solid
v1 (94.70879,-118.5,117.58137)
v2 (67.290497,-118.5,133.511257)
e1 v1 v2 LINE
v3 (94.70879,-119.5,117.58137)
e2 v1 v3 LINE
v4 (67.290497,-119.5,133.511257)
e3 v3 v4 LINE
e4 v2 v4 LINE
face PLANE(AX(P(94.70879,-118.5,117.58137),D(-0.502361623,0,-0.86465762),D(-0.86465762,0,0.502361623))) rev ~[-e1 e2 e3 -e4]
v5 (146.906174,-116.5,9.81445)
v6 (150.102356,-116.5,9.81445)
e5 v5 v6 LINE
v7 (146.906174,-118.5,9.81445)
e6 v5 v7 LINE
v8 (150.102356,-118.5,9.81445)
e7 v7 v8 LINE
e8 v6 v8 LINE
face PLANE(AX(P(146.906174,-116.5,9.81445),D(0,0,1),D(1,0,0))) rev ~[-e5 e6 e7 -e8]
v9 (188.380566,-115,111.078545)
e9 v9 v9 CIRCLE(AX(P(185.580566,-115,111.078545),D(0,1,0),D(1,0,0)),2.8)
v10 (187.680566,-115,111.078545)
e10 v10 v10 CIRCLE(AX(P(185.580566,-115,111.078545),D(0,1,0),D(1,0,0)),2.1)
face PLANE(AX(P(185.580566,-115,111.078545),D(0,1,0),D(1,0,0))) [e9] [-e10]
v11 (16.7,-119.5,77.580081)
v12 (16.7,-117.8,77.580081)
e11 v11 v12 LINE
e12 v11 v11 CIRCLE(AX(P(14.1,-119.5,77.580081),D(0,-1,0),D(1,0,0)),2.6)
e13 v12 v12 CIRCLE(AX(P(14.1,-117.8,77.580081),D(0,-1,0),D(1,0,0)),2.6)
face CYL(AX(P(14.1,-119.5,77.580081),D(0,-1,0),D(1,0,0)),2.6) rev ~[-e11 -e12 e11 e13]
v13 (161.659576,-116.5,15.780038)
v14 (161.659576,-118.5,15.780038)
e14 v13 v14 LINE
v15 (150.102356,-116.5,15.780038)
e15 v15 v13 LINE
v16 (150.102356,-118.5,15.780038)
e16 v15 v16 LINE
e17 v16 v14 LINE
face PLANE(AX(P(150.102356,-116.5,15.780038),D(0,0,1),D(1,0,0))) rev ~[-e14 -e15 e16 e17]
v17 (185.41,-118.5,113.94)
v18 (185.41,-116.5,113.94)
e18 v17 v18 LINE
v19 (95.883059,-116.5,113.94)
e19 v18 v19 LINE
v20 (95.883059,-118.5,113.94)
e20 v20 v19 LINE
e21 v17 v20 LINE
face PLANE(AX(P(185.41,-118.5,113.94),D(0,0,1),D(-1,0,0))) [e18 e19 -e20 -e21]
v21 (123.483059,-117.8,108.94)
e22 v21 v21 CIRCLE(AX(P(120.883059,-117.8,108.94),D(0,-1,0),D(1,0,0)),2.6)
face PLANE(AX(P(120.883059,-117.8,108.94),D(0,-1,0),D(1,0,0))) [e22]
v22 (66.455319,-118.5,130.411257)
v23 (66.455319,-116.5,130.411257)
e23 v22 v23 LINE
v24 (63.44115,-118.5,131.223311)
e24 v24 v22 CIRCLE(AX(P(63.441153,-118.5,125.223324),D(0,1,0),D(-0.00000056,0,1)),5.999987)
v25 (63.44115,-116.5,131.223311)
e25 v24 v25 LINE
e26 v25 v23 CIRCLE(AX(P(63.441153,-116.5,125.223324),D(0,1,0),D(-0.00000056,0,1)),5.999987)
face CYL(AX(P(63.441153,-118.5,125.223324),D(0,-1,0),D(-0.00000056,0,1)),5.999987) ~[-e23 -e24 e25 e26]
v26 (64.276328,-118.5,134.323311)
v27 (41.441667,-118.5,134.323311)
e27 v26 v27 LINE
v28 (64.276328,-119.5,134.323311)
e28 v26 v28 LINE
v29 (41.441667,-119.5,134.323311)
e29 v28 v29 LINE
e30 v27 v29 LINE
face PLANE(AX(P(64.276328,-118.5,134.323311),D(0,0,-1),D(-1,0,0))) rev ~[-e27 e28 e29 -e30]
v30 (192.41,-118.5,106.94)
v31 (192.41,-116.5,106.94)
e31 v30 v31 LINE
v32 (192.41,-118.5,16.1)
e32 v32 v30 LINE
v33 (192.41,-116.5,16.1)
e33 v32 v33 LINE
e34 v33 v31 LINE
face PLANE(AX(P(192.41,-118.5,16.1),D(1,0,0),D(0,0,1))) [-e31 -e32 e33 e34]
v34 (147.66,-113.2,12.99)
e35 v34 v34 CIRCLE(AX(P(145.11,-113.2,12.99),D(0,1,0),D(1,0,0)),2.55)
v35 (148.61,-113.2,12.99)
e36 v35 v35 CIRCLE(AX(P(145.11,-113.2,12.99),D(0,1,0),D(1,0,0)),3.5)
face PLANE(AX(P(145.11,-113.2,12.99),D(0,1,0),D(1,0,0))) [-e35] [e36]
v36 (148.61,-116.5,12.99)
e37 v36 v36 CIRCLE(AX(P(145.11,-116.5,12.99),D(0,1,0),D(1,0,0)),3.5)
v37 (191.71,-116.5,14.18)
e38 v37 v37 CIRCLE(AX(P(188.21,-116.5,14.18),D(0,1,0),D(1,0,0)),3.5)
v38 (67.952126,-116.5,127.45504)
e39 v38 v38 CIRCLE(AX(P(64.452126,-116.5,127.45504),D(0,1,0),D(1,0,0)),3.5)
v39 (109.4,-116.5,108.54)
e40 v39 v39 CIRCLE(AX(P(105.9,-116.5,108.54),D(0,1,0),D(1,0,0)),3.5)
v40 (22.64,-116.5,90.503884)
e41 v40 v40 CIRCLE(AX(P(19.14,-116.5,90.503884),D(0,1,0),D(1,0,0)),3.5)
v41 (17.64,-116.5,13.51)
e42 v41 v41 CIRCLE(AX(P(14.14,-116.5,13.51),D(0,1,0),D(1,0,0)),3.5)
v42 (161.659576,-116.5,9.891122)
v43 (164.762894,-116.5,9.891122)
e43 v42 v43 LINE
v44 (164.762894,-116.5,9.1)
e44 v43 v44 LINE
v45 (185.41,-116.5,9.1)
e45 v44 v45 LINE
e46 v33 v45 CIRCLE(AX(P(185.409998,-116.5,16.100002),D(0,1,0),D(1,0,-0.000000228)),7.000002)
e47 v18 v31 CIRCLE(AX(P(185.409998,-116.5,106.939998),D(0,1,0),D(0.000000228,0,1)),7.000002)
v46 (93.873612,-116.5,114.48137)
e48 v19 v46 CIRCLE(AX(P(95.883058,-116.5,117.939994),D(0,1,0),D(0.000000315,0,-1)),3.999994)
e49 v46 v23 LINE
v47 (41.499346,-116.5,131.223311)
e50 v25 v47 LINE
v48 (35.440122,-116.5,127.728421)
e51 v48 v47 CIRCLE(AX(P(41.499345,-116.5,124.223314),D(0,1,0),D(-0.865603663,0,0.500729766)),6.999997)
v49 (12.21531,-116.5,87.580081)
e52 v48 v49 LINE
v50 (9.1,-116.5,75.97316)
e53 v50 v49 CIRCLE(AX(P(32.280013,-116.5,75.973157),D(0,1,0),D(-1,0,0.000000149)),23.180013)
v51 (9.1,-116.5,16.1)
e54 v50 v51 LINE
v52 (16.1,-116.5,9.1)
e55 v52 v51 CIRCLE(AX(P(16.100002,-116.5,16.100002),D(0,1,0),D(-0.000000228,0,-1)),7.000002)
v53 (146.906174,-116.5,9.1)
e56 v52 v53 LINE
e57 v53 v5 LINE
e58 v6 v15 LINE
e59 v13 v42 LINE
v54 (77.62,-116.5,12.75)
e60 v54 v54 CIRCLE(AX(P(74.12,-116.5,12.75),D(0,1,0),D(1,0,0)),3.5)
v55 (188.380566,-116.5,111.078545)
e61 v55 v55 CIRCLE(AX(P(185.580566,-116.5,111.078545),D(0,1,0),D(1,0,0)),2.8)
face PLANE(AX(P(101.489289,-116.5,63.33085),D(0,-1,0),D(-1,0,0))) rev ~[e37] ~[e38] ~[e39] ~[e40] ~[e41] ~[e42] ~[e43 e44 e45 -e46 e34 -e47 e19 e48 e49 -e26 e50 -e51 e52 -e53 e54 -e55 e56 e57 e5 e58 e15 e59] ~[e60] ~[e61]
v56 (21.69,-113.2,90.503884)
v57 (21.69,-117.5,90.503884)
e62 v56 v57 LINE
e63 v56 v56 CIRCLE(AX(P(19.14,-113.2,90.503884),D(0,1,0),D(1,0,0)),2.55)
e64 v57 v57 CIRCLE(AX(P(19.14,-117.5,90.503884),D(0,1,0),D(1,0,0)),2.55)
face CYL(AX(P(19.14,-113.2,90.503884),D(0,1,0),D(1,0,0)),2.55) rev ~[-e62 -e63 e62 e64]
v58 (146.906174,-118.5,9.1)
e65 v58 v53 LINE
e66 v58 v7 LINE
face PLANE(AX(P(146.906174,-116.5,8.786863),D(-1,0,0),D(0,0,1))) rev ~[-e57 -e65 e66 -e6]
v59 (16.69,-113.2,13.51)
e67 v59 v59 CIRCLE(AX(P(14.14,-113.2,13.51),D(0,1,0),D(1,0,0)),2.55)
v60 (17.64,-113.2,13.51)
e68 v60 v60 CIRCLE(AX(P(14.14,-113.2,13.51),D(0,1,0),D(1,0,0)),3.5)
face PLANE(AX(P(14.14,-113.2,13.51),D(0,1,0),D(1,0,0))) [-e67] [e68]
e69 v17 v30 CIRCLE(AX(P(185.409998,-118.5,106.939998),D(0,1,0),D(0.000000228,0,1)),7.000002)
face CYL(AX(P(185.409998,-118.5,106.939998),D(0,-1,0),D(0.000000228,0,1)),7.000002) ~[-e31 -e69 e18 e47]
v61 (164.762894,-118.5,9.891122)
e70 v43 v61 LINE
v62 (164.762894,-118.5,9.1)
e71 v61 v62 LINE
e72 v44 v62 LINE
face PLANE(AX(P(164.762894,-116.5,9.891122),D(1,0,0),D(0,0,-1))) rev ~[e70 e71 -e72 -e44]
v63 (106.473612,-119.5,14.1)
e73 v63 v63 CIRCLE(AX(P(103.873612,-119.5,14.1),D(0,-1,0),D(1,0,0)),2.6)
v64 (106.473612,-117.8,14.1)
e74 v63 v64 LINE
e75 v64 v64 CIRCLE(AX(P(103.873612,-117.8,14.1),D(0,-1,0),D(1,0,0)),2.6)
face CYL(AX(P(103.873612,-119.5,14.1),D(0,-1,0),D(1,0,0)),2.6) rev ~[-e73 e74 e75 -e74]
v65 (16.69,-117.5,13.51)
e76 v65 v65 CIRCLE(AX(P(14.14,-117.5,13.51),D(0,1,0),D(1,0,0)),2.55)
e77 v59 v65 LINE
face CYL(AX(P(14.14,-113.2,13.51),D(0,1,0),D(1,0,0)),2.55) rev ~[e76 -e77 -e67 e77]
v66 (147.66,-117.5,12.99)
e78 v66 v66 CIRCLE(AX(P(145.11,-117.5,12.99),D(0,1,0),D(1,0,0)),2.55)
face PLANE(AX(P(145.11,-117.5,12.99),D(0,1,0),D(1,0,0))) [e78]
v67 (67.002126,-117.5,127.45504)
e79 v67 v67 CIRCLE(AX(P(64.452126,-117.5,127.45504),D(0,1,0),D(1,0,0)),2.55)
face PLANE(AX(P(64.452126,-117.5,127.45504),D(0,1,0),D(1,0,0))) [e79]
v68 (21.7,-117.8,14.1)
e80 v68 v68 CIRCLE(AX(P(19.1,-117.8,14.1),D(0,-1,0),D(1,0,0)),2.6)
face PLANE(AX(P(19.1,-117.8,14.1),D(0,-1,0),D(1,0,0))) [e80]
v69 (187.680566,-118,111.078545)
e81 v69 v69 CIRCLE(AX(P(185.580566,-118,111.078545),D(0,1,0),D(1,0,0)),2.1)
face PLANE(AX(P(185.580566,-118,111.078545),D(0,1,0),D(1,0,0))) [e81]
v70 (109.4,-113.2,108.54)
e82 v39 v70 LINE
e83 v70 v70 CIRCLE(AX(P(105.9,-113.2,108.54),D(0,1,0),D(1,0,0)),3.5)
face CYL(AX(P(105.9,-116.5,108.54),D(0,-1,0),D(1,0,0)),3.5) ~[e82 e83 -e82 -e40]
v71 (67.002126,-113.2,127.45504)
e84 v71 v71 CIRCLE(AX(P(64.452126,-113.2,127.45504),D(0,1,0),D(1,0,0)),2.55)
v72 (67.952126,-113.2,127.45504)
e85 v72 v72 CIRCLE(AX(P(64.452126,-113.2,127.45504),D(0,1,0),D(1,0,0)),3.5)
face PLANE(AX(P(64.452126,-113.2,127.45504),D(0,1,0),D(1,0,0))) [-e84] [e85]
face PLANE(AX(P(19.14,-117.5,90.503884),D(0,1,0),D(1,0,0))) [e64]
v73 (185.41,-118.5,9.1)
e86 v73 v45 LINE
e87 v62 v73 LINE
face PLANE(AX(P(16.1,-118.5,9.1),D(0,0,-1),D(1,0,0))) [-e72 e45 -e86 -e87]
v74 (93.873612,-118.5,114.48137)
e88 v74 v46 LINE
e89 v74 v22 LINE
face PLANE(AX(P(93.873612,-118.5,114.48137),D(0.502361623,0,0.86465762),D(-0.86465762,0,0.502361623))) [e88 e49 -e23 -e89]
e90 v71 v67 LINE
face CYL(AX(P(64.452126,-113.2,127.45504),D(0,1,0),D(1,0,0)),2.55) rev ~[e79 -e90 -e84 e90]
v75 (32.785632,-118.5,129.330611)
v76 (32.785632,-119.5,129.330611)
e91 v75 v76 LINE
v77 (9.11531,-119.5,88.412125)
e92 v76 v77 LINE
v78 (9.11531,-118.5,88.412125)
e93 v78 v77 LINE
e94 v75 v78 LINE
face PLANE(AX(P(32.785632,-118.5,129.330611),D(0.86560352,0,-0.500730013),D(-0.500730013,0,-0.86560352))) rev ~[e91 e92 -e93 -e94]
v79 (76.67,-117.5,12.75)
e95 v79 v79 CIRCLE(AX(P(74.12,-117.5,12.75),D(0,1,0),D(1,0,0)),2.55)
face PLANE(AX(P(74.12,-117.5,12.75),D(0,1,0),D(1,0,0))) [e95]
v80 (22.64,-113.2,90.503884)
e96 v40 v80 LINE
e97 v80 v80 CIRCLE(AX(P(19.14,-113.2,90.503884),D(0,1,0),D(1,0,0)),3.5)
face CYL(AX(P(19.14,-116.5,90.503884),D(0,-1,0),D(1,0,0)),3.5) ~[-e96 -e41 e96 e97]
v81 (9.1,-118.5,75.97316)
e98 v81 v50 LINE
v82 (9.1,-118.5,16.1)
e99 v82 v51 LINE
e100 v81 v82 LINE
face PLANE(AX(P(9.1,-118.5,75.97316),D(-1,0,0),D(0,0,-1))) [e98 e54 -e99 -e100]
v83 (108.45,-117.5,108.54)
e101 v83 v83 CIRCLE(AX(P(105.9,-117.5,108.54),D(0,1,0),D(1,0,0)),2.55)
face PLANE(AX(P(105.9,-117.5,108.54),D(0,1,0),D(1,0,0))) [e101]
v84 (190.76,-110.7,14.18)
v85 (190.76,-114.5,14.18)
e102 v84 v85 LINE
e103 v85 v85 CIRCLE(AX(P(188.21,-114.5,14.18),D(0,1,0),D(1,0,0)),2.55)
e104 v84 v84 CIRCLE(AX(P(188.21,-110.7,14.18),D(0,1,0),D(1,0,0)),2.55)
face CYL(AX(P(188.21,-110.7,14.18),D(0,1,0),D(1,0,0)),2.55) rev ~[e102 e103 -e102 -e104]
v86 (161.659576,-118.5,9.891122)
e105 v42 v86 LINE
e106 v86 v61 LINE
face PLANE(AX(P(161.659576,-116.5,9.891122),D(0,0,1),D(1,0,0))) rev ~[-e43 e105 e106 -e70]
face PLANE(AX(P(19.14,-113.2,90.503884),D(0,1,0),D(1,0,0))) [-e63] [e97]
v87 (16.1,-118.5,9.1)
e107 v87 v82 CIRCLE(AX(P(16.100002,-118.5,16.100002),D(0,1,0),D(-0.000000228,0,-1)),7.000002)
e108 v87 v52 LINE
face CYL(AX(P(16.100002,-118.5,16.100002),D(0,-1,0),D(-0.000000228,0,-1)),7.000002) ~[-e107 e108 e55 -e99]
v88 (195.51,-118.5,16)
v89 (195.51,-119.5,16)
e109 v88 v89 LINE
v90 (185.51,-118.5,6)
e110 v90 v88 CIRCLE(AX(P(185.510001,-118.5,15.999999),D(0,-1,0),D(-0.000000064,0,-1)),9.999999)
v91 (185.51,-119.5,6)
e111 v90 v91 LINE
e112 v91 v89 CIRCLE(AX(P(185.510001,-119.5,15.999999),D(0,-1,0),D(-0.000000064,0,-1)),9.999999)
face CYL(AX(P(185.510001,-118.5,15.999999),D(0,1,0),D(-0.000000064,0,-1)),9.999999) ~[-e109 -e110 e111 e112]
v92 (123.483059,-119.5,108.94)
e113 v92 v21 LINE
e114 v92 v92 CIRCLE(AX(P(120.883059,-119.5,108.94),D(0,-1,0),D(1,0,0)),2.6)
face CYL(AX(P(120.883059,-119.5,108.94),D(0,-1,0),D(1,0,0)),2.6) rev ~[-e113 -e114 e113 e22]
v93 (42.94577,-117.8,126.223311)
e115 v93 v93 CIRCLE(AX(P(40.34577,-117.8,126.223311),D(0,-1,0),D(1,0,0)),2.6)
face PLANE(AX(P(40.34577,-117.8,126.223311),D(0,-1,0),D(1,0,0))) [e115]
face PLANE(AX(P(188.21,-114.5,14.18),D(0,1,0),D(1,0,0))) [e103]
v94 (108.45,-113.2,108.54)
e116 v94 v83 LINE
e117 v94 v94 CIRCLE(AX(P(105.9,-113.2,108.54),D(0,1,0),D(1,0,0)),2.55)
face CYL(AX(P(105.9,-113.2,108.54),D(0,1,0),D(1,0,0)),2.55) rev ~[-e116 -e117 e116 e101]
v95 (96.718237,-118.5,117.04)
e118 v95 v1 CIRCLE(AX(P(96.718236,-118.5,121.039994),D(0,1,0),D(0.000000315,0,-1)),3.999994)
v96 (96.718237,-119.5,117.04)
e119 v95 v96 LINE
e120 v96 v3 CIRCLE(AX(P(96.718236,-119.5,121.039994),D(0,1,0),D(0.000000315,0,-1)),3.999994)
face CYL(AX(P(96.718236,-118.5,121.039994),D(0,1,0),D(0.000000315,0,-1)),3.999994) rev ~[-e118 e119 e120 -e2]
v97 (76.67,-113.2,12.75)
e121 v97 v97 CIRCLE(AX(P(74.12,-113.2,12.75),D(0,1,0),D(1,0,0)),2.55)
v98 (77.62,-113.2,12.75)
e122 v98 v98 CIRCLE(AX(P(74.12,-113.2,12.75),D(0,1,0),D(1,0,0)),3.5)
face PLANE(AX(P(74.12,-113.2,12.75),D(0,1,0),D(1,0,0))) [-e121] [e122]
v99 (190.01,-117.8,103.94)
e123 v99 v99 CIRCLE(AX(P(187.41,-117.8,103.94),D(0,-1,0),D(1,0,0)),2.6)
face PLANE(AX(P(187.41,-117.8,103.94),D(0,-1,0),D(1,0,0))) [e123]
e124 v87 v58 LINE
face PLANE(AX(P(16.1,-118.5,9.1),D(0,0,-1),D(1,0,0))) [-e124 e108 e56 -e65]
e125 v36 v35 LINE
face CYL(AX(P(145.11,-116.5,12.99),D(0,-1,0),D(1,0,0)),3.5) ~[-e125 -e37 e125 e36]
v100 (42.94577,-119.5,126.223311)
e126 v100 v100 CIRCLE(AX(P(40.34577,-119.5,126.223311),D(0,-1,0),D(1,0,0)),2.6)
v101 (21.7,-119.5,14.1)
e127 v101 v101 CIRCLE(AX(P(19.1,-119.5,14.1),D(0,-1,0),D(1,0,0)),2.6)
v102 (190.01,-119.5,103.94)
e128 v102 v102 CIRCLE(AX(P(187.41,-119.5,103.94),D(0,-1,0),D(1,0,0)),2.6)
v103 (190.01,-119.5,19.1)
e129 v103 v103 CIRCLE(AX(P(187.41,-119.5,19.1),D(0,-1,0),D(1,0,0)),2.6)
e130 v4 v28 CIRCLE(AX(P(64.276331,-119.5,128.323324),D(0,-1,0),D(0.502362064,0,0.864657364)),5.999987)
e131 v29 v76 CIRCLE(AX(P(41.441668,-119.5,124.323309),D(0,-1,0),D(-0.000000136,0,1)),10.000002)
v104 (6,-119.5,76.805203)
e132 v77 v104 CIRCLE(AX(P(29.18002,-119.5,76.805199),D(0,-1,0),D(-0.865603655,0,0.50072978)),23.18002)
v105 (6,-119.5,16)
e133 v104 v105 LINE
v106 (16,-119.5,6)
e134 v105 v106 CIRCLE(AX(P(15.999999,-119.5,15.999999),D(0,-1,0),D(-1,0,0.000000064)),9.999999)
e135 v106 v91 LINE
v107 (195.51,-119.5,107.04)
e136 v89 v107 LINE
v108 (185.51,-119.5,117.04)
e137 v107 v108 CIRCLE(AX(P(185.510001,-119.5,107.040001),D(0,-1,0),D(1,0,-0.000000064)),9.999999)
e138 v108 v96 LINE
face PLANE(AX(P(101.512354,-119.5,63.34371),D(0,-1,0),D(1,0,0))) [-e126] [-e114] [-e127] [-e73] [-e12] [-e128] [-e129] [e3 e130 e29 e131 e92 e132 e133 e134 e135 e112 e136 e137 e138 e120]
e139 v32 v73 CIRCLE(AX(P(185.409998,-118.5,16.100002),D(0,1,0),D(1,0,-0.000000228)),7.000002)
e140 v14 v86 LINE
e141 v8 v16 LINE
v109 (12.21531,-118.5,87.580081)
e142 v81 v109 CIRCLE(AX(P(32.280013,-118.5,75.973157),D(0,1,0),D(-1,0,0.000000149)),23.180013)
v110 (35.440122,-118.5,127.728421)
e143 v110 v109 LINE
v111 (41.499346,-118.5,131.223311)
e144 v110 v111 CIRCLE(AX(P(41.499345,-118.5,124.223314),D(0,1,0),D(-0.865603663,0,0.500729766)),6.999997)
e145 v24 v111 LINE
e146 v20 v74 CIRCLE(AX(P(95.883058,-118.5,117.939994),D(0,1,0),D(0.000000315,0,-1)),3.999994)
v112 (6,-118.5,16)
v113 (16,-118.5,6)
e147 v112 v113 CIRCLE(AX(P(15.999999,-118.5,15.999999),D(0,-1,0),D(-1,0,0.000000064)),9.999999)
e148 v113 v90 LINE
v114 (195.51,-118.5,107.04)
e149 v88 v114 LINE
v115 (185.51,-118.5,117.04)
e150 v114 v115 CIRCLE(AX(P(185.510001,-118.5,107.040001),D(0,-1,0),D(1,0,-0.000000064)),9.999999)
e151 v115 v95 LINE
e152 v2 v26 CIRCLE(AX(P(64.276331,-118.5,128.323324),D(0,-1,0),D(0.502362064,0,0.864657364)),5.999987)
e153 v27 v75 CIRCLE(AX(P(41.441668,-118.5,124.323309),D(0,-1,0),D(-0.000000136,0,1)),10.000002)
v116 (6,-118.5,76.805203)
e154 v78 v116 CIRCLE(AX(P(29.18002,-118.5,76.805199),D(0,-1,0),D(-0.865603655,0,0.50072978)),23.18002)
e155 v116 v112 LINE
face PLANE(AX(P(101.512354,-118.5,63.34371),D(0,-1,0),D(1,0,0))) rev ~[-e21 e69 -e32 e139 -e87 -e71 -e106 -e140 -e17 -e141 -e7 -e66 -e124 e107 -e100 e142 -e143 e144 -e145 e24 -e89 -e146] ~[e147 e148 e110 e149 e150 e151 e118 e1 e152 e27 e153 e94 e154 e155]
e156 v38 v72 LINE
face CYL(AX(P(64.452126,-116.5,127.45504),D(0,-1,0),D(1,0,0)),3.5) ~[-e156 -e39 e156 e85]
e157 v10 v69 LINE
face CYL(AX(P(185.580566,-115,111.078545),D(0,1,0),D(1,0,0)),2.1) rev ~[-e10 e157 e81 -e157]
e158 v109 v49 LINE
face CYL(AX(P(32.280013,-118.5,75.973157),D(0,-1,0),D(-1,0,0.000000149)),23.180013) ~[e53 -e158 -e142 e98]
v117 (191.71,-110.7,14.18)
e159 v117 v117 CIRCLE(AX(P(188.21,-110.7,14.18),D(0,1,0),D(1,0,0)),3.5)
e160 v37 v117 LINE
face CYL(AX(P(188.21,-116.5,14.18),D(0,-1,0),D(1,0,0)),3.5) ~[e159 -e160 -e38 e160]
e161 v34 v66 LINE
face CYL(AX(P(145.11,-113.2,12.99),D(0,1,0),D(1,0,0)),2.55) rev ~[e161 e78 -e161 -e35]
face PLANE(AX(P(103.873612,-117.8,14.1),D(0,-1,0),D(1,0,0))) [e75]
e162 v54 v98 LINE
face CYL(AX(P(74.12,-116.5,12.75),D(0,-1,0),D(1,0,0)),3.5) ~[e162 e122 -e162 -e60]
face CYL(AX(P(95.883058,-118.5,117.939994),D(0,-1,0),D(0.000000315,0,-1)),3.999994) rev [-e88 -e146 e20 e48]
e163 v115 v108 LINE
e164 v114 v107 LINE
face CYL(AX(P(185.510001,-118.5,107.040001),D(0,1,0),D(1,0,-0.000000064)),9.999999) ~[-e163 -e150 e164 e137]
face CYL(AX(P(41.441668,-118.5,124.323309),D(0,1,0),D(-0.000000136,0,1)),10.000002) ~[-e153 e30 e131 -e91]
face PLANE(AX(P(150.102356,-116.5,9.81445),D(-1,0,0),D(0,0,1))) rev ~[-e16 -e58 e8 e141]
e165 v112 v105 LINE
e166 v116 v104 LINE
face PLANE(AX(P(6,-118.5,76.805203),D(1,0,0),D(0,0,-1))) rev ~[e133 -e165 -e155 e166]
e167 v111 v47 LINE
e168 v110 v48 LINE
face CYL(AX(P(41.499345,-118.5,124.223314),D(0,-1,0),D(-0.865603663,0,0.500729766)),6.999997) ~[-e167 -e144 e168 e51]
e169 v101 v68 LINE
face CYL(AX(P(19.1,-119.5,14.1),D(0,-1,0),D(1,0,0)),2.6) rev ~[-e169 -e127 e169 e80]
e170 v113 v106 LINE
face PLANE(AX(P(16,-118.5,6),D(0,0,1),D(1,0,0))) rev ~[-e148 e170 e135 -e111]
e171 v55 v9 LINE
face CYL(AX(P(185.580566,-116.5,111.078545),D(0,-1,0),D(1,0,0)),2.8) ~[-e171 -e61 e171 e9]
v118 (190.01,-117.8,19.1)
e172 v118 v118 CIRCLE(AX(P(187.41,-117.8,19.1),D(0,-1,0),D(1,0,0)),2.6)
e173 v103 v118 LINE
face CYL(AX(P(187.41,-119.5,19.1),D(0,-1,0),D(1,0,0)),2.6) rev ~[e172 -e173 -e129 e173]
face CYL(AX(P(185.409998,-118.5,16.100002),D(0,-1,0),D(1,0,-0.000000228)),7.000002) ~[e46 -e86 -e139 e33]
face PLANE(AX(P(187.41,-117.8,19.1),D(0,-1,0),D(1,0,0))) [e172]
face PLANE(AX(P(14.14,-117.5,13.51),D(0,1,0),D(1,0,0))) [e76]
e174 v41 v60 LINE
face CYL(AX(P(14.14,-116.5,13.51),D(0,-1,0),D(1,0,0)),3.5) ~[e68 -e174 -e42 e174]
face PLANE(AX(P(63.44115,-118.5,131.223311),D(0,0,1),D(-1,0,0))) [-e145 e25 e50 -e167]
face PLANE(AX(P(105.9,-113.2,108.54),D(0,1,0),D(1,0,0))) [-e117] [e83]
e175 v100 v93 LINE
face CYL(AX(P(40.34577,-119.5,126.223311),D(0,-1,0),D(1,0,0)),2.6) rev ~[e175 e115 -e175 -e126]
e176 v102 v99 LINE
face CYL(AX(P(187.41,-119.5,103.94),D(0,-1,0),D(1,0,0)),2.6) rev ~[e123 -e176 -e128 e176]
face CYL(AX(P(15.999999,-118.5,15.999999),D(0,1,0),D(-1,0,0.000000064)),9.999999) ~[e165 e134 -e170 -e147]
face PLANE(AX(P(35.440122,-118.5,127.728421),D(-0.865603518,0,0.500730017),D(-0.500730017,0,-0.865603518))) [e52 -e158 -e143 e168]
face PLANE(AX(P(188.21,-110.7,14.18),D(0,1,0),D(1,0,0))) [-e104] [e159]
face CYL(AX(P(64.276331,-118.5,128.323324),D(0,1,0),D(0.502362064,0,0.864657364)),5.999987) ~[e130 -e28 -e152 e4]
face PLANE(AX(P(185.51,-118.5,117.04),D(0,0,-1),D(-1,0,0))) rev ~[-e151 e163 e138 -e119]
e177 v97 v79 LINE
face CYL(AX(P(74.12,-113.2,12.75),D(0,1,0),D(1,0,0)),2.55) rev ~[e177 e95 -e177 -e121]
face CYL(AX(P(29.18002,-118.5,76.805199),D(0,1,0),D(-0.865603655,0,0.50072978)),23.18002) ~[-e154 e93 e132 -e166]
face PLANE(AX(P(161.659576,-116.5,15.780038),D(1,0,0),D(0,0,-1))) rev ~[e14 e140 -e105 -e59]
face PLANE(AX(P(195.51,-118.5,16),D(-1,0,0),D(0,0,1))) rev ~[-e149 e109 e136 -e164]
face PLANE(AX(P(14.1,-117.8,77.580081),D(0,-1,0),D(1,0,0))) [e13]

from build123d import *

# Parameters (mm, degrees)
PAD017_DEPTH    = 1
PAD018_DEPTH    = 2
SKETCH041_R     = 3.5
PAD019_DEPTH    = 3.3
SKETCH042_R     = 2.55
POCKET018_DEPTH = 4.3
SKETCH043_R     = 2.8
PAD020_DEPTH    = 1.5
SKETCH044_R     = 2.1
POCKET019_DEPTH = 3
SKETCH045_R     = 3.5
PAD021_DEPTH    = 5.8
SKETCH046_R     = 2.55
POCKET020_DEPTH = 3.8
SKETCH047_R     = 2.6
POCKET021_DEPTH = 1.7
POCKET025_DEPTH = 2


with BuildPart() as part:
    # Sketch038 → Pad017 (new body)
    with BuildSketch(Plane.XZ):
        with BuildLine():
            ThreePointArc((6, 16), (8.928932, 8.928932), (16, 6))
            Line((16, 6), (185.51, 6))
            ThreePointArc((185.51, 6), (192.581068, 8.928932), (195.51, 16))
            Line((195.51, 16), (195.51, 107.04))
            ThreePointArc((195.51, 107.04), (192.581068, 114.111068), (185.51, 117.04))
            Line((185.51, 117.04), (96.718237, 117.04))
            ThreePointArc((96.718237, 117.04), (95.677689, 117.177713), (94.70879, 117.58137))
            Line((94.70879, 117.58137), (67.290497, 133.511257))
            ThreePointArc((67.290497, 133.511257), (65.837149, 134.116742), (64.276328, 134.323311))
            Line((64.276328, 134.323311), (41.441667, 134.323311))
            ThreePointArc((41.441667, 134.323311), (36.445319, 132.985672), (32.785632, 129.330611))
            Line((32.785632, 129.330611), (9.11531, 88.412125))
            ThreePointArc((9.11531, 88.412125), (6.792371, 82.814067), (6, 76.805203))
            Line((6, 76.805203), (6, 16))
        make_face()
    extrude(amount=PAD017_DEPTH)

    # Sketch040 (on Face15 of Pad017) → Pad018 (join)
    with BuildSketch(Plane(origin=(0, 0, 0), x_dir=(1, 0, 0), z_dir=(0, 1, 0))):
        with BuildLine():
            Line((16.1, -9.1), (185.41, -9.1))
            ThreePointArc((192.41, -16.1), (190.359747, -11.150253), (185.41, -9.1))
            Line((192.41, -16.1), (192.41, -106.94))
            ThreePointArc((185.41, -113.94), (190.359747, -111.889747), (192.41, -106.94))
            Line((185.41, -113.94), (95.883059, -113.94))
            ThreePointArc((95.883059, -113.94), (94.842511, -114.077713), (93.873612, -114.48137))
            Line((93.873612, -114.48137), (66.455319, -130.411257))
            ThreePointArc((63.44115, -131.223311), (65.001971, -131.016742), (66.455319, -130.411257))
            Line((63.44115, -131.223311), (41.499346, -131.223311))
            ThreePointArc((35.440122, -127.728421), (38.001902, -130.286964), (41.499346, -131.223311))
            Line((35.440122, -127.728421), (12.21531, -87.580081))
            ThreePointArc((9.1, -75.97316), (9.892371, -81.982024), (12.21531, -87.580081))
            Line((9.1, -75.97316), (9.1, -16.1))
            ThreePointArc((16.1, -9.1), (11.150253, -11.150253), (9.1, -16.1))
        make_face()
    extrude(amount=PAD018_DEPTH)

    # Sketch041 (on Face31 of Pad018) → Pad019 (join)
    with BuildSketch(Plane(origin=(0, 2, 0), x_dir=(1, 0, 0), z_dir=(0, 1, 0))):
        with Locations((145.11, -12.99)):
            Circle(SKETCH041_R)
        with Locations((64.452126, -127.45504)):
            Circle(SKETCH041_R)
        with Locations((14.14, -13.51)):
            Circle(SKETCH041_R)
        with Locations((19.14, -90.503884)):
            Circle(SKETCH041_R)
        with Locations((105.9, -108.54)):
            Circle(SKETCH041_R)
        with Locations((74.12, -12.75)):
            Circle(SKETCH041_R)
    extrude(amount=PAD019_DEPTH)

    # Sketch042 (on Face38 of Pad019) → Pocket018 (cut)
    with BuildSketch(Plane(origin=(0, 5.3, 0), x_dir=(1, 0, 0), z_dir=(0, 1, 0))):
        with Locations((145.11, -12.99)):
            Circle(SKETCH042_R)
        with Locations((19.14, -90.503884)):
            Circle(SKETCH042_R)
        with Locations((64.452126, -127.45504)):
            Circle(SKETCH042_R)
        with Locations((105.9, -108.54)):
            Circle(SKETCH042_R)
        with Locations((14.14, -13.51)):
            Circle(SKETCH042_R)
        with Locations((74.12, -12.75)):
            Circle(SKETCH042_R)
    extrude(amount=-POCKET018_DEPTH, mode=Mode.SUBTRACT)

    # Sketch043 (on Face31 of Pocket018) → Pad020 (join)
    with BuildSketch(Plane(origin=(0, 2, 0), x_dir=(1, 0, 0), z_dir=(0, 1, 0))):
        with Locations((185.580566, -111.078545)):
            Circle(SKETCH043_R)
    extrude(amount=PAD020_DEPTH)

    # Sketch044 (on Face45 of Pad020) → Pocket019 (cut)
    with BuildSketch(Plane(origin=(0, 3.5, 0), x_dir=(1, 0, 0), z_dir=(0, 1, 0))):
        with Locations((185.580566, -111.078545)):
            Circle(SKETCH044_R)
    extrude(amount=-POCKET019_DEPTH, mode=Mode.SUBTRACT)

    # Sketch045 (on Face31 of Pocket019) → Pad021 (join)
    with BuildSketch(Plane(origin=(0, 2, 0), x_dir=(1, 0, 0), z_dir=(0, 1, 0))):
        with Locations((188.21, -14.18)):
            Circle(SKETCH045_R)
    extrude(amount=PAD021_DEPTH)

    # Sketch046 (on Face45 of Pad021) → Pocket020 (cut)
    with BuildSketch(Plane(origin=(0, 7.8, 0), x_dir=(1, 0, 0), z_dir=(0, 1, 0))):
        with Locations((188.21, -14.18)):
            Circle(SKETCH046_R)
    extrude(amount=-POCKET020_DEPTH, mode=Mode.SUBTRACT)

    # Sketch047 (on Face5 of Pocket020) → Pocket021 (cut)
    with BuildSketch(Plane.XZ.offset(1)):
        with Locations((187.41, 103.94)):
            Circle(SKETCH047_R)
        with Locations((40.34577, 126.223311)):
            Circle(SKETCH047_R)
        with Locations((14.1, 77.580081)):
            Circle(SKETCH047_R)
        with Locations((103.873612, 14.1)):
            Circle(SKETCH047_R)
        with Locations((187.41, 19.1)):
            Circle(SKETCH047_R)
        with Locations((120.883059, 108.94)):
            Circle(SKETCH047_R)
        with Locations((19.1, 14.1)):
            Circle(SKETCH047_R)
    extrude(amount=-POCKET021_DEPTH, mode=Mode.SUBTRACT)

    # Sketch056 (on Face38 of Pocket021) → Pocket025 (cut)
    with BuildSketch(Plane(origin=(0, 2, 0), x_dir=(1, 0, 0), z_dir=(0, 1, 0))):
        Polygon((146.906174, -8.786863), (146.906174, -9.81445), (150.102356, -9.81445), (150.102356, -15.780038), (161.659576, -15.780038), (161.659576, -9.891122), (164.762894, -9.891122), (164.762894, -8.786863), align=None)
    extrude(amount=-POCKET025_DEPTH, mode=Mode.SUBTRACT)


with BuildPart() as part_1:
    # Body004 placement: moved
    add(part.part.moved(Location((0, -118.5, 0))))


solid = part_1.part
